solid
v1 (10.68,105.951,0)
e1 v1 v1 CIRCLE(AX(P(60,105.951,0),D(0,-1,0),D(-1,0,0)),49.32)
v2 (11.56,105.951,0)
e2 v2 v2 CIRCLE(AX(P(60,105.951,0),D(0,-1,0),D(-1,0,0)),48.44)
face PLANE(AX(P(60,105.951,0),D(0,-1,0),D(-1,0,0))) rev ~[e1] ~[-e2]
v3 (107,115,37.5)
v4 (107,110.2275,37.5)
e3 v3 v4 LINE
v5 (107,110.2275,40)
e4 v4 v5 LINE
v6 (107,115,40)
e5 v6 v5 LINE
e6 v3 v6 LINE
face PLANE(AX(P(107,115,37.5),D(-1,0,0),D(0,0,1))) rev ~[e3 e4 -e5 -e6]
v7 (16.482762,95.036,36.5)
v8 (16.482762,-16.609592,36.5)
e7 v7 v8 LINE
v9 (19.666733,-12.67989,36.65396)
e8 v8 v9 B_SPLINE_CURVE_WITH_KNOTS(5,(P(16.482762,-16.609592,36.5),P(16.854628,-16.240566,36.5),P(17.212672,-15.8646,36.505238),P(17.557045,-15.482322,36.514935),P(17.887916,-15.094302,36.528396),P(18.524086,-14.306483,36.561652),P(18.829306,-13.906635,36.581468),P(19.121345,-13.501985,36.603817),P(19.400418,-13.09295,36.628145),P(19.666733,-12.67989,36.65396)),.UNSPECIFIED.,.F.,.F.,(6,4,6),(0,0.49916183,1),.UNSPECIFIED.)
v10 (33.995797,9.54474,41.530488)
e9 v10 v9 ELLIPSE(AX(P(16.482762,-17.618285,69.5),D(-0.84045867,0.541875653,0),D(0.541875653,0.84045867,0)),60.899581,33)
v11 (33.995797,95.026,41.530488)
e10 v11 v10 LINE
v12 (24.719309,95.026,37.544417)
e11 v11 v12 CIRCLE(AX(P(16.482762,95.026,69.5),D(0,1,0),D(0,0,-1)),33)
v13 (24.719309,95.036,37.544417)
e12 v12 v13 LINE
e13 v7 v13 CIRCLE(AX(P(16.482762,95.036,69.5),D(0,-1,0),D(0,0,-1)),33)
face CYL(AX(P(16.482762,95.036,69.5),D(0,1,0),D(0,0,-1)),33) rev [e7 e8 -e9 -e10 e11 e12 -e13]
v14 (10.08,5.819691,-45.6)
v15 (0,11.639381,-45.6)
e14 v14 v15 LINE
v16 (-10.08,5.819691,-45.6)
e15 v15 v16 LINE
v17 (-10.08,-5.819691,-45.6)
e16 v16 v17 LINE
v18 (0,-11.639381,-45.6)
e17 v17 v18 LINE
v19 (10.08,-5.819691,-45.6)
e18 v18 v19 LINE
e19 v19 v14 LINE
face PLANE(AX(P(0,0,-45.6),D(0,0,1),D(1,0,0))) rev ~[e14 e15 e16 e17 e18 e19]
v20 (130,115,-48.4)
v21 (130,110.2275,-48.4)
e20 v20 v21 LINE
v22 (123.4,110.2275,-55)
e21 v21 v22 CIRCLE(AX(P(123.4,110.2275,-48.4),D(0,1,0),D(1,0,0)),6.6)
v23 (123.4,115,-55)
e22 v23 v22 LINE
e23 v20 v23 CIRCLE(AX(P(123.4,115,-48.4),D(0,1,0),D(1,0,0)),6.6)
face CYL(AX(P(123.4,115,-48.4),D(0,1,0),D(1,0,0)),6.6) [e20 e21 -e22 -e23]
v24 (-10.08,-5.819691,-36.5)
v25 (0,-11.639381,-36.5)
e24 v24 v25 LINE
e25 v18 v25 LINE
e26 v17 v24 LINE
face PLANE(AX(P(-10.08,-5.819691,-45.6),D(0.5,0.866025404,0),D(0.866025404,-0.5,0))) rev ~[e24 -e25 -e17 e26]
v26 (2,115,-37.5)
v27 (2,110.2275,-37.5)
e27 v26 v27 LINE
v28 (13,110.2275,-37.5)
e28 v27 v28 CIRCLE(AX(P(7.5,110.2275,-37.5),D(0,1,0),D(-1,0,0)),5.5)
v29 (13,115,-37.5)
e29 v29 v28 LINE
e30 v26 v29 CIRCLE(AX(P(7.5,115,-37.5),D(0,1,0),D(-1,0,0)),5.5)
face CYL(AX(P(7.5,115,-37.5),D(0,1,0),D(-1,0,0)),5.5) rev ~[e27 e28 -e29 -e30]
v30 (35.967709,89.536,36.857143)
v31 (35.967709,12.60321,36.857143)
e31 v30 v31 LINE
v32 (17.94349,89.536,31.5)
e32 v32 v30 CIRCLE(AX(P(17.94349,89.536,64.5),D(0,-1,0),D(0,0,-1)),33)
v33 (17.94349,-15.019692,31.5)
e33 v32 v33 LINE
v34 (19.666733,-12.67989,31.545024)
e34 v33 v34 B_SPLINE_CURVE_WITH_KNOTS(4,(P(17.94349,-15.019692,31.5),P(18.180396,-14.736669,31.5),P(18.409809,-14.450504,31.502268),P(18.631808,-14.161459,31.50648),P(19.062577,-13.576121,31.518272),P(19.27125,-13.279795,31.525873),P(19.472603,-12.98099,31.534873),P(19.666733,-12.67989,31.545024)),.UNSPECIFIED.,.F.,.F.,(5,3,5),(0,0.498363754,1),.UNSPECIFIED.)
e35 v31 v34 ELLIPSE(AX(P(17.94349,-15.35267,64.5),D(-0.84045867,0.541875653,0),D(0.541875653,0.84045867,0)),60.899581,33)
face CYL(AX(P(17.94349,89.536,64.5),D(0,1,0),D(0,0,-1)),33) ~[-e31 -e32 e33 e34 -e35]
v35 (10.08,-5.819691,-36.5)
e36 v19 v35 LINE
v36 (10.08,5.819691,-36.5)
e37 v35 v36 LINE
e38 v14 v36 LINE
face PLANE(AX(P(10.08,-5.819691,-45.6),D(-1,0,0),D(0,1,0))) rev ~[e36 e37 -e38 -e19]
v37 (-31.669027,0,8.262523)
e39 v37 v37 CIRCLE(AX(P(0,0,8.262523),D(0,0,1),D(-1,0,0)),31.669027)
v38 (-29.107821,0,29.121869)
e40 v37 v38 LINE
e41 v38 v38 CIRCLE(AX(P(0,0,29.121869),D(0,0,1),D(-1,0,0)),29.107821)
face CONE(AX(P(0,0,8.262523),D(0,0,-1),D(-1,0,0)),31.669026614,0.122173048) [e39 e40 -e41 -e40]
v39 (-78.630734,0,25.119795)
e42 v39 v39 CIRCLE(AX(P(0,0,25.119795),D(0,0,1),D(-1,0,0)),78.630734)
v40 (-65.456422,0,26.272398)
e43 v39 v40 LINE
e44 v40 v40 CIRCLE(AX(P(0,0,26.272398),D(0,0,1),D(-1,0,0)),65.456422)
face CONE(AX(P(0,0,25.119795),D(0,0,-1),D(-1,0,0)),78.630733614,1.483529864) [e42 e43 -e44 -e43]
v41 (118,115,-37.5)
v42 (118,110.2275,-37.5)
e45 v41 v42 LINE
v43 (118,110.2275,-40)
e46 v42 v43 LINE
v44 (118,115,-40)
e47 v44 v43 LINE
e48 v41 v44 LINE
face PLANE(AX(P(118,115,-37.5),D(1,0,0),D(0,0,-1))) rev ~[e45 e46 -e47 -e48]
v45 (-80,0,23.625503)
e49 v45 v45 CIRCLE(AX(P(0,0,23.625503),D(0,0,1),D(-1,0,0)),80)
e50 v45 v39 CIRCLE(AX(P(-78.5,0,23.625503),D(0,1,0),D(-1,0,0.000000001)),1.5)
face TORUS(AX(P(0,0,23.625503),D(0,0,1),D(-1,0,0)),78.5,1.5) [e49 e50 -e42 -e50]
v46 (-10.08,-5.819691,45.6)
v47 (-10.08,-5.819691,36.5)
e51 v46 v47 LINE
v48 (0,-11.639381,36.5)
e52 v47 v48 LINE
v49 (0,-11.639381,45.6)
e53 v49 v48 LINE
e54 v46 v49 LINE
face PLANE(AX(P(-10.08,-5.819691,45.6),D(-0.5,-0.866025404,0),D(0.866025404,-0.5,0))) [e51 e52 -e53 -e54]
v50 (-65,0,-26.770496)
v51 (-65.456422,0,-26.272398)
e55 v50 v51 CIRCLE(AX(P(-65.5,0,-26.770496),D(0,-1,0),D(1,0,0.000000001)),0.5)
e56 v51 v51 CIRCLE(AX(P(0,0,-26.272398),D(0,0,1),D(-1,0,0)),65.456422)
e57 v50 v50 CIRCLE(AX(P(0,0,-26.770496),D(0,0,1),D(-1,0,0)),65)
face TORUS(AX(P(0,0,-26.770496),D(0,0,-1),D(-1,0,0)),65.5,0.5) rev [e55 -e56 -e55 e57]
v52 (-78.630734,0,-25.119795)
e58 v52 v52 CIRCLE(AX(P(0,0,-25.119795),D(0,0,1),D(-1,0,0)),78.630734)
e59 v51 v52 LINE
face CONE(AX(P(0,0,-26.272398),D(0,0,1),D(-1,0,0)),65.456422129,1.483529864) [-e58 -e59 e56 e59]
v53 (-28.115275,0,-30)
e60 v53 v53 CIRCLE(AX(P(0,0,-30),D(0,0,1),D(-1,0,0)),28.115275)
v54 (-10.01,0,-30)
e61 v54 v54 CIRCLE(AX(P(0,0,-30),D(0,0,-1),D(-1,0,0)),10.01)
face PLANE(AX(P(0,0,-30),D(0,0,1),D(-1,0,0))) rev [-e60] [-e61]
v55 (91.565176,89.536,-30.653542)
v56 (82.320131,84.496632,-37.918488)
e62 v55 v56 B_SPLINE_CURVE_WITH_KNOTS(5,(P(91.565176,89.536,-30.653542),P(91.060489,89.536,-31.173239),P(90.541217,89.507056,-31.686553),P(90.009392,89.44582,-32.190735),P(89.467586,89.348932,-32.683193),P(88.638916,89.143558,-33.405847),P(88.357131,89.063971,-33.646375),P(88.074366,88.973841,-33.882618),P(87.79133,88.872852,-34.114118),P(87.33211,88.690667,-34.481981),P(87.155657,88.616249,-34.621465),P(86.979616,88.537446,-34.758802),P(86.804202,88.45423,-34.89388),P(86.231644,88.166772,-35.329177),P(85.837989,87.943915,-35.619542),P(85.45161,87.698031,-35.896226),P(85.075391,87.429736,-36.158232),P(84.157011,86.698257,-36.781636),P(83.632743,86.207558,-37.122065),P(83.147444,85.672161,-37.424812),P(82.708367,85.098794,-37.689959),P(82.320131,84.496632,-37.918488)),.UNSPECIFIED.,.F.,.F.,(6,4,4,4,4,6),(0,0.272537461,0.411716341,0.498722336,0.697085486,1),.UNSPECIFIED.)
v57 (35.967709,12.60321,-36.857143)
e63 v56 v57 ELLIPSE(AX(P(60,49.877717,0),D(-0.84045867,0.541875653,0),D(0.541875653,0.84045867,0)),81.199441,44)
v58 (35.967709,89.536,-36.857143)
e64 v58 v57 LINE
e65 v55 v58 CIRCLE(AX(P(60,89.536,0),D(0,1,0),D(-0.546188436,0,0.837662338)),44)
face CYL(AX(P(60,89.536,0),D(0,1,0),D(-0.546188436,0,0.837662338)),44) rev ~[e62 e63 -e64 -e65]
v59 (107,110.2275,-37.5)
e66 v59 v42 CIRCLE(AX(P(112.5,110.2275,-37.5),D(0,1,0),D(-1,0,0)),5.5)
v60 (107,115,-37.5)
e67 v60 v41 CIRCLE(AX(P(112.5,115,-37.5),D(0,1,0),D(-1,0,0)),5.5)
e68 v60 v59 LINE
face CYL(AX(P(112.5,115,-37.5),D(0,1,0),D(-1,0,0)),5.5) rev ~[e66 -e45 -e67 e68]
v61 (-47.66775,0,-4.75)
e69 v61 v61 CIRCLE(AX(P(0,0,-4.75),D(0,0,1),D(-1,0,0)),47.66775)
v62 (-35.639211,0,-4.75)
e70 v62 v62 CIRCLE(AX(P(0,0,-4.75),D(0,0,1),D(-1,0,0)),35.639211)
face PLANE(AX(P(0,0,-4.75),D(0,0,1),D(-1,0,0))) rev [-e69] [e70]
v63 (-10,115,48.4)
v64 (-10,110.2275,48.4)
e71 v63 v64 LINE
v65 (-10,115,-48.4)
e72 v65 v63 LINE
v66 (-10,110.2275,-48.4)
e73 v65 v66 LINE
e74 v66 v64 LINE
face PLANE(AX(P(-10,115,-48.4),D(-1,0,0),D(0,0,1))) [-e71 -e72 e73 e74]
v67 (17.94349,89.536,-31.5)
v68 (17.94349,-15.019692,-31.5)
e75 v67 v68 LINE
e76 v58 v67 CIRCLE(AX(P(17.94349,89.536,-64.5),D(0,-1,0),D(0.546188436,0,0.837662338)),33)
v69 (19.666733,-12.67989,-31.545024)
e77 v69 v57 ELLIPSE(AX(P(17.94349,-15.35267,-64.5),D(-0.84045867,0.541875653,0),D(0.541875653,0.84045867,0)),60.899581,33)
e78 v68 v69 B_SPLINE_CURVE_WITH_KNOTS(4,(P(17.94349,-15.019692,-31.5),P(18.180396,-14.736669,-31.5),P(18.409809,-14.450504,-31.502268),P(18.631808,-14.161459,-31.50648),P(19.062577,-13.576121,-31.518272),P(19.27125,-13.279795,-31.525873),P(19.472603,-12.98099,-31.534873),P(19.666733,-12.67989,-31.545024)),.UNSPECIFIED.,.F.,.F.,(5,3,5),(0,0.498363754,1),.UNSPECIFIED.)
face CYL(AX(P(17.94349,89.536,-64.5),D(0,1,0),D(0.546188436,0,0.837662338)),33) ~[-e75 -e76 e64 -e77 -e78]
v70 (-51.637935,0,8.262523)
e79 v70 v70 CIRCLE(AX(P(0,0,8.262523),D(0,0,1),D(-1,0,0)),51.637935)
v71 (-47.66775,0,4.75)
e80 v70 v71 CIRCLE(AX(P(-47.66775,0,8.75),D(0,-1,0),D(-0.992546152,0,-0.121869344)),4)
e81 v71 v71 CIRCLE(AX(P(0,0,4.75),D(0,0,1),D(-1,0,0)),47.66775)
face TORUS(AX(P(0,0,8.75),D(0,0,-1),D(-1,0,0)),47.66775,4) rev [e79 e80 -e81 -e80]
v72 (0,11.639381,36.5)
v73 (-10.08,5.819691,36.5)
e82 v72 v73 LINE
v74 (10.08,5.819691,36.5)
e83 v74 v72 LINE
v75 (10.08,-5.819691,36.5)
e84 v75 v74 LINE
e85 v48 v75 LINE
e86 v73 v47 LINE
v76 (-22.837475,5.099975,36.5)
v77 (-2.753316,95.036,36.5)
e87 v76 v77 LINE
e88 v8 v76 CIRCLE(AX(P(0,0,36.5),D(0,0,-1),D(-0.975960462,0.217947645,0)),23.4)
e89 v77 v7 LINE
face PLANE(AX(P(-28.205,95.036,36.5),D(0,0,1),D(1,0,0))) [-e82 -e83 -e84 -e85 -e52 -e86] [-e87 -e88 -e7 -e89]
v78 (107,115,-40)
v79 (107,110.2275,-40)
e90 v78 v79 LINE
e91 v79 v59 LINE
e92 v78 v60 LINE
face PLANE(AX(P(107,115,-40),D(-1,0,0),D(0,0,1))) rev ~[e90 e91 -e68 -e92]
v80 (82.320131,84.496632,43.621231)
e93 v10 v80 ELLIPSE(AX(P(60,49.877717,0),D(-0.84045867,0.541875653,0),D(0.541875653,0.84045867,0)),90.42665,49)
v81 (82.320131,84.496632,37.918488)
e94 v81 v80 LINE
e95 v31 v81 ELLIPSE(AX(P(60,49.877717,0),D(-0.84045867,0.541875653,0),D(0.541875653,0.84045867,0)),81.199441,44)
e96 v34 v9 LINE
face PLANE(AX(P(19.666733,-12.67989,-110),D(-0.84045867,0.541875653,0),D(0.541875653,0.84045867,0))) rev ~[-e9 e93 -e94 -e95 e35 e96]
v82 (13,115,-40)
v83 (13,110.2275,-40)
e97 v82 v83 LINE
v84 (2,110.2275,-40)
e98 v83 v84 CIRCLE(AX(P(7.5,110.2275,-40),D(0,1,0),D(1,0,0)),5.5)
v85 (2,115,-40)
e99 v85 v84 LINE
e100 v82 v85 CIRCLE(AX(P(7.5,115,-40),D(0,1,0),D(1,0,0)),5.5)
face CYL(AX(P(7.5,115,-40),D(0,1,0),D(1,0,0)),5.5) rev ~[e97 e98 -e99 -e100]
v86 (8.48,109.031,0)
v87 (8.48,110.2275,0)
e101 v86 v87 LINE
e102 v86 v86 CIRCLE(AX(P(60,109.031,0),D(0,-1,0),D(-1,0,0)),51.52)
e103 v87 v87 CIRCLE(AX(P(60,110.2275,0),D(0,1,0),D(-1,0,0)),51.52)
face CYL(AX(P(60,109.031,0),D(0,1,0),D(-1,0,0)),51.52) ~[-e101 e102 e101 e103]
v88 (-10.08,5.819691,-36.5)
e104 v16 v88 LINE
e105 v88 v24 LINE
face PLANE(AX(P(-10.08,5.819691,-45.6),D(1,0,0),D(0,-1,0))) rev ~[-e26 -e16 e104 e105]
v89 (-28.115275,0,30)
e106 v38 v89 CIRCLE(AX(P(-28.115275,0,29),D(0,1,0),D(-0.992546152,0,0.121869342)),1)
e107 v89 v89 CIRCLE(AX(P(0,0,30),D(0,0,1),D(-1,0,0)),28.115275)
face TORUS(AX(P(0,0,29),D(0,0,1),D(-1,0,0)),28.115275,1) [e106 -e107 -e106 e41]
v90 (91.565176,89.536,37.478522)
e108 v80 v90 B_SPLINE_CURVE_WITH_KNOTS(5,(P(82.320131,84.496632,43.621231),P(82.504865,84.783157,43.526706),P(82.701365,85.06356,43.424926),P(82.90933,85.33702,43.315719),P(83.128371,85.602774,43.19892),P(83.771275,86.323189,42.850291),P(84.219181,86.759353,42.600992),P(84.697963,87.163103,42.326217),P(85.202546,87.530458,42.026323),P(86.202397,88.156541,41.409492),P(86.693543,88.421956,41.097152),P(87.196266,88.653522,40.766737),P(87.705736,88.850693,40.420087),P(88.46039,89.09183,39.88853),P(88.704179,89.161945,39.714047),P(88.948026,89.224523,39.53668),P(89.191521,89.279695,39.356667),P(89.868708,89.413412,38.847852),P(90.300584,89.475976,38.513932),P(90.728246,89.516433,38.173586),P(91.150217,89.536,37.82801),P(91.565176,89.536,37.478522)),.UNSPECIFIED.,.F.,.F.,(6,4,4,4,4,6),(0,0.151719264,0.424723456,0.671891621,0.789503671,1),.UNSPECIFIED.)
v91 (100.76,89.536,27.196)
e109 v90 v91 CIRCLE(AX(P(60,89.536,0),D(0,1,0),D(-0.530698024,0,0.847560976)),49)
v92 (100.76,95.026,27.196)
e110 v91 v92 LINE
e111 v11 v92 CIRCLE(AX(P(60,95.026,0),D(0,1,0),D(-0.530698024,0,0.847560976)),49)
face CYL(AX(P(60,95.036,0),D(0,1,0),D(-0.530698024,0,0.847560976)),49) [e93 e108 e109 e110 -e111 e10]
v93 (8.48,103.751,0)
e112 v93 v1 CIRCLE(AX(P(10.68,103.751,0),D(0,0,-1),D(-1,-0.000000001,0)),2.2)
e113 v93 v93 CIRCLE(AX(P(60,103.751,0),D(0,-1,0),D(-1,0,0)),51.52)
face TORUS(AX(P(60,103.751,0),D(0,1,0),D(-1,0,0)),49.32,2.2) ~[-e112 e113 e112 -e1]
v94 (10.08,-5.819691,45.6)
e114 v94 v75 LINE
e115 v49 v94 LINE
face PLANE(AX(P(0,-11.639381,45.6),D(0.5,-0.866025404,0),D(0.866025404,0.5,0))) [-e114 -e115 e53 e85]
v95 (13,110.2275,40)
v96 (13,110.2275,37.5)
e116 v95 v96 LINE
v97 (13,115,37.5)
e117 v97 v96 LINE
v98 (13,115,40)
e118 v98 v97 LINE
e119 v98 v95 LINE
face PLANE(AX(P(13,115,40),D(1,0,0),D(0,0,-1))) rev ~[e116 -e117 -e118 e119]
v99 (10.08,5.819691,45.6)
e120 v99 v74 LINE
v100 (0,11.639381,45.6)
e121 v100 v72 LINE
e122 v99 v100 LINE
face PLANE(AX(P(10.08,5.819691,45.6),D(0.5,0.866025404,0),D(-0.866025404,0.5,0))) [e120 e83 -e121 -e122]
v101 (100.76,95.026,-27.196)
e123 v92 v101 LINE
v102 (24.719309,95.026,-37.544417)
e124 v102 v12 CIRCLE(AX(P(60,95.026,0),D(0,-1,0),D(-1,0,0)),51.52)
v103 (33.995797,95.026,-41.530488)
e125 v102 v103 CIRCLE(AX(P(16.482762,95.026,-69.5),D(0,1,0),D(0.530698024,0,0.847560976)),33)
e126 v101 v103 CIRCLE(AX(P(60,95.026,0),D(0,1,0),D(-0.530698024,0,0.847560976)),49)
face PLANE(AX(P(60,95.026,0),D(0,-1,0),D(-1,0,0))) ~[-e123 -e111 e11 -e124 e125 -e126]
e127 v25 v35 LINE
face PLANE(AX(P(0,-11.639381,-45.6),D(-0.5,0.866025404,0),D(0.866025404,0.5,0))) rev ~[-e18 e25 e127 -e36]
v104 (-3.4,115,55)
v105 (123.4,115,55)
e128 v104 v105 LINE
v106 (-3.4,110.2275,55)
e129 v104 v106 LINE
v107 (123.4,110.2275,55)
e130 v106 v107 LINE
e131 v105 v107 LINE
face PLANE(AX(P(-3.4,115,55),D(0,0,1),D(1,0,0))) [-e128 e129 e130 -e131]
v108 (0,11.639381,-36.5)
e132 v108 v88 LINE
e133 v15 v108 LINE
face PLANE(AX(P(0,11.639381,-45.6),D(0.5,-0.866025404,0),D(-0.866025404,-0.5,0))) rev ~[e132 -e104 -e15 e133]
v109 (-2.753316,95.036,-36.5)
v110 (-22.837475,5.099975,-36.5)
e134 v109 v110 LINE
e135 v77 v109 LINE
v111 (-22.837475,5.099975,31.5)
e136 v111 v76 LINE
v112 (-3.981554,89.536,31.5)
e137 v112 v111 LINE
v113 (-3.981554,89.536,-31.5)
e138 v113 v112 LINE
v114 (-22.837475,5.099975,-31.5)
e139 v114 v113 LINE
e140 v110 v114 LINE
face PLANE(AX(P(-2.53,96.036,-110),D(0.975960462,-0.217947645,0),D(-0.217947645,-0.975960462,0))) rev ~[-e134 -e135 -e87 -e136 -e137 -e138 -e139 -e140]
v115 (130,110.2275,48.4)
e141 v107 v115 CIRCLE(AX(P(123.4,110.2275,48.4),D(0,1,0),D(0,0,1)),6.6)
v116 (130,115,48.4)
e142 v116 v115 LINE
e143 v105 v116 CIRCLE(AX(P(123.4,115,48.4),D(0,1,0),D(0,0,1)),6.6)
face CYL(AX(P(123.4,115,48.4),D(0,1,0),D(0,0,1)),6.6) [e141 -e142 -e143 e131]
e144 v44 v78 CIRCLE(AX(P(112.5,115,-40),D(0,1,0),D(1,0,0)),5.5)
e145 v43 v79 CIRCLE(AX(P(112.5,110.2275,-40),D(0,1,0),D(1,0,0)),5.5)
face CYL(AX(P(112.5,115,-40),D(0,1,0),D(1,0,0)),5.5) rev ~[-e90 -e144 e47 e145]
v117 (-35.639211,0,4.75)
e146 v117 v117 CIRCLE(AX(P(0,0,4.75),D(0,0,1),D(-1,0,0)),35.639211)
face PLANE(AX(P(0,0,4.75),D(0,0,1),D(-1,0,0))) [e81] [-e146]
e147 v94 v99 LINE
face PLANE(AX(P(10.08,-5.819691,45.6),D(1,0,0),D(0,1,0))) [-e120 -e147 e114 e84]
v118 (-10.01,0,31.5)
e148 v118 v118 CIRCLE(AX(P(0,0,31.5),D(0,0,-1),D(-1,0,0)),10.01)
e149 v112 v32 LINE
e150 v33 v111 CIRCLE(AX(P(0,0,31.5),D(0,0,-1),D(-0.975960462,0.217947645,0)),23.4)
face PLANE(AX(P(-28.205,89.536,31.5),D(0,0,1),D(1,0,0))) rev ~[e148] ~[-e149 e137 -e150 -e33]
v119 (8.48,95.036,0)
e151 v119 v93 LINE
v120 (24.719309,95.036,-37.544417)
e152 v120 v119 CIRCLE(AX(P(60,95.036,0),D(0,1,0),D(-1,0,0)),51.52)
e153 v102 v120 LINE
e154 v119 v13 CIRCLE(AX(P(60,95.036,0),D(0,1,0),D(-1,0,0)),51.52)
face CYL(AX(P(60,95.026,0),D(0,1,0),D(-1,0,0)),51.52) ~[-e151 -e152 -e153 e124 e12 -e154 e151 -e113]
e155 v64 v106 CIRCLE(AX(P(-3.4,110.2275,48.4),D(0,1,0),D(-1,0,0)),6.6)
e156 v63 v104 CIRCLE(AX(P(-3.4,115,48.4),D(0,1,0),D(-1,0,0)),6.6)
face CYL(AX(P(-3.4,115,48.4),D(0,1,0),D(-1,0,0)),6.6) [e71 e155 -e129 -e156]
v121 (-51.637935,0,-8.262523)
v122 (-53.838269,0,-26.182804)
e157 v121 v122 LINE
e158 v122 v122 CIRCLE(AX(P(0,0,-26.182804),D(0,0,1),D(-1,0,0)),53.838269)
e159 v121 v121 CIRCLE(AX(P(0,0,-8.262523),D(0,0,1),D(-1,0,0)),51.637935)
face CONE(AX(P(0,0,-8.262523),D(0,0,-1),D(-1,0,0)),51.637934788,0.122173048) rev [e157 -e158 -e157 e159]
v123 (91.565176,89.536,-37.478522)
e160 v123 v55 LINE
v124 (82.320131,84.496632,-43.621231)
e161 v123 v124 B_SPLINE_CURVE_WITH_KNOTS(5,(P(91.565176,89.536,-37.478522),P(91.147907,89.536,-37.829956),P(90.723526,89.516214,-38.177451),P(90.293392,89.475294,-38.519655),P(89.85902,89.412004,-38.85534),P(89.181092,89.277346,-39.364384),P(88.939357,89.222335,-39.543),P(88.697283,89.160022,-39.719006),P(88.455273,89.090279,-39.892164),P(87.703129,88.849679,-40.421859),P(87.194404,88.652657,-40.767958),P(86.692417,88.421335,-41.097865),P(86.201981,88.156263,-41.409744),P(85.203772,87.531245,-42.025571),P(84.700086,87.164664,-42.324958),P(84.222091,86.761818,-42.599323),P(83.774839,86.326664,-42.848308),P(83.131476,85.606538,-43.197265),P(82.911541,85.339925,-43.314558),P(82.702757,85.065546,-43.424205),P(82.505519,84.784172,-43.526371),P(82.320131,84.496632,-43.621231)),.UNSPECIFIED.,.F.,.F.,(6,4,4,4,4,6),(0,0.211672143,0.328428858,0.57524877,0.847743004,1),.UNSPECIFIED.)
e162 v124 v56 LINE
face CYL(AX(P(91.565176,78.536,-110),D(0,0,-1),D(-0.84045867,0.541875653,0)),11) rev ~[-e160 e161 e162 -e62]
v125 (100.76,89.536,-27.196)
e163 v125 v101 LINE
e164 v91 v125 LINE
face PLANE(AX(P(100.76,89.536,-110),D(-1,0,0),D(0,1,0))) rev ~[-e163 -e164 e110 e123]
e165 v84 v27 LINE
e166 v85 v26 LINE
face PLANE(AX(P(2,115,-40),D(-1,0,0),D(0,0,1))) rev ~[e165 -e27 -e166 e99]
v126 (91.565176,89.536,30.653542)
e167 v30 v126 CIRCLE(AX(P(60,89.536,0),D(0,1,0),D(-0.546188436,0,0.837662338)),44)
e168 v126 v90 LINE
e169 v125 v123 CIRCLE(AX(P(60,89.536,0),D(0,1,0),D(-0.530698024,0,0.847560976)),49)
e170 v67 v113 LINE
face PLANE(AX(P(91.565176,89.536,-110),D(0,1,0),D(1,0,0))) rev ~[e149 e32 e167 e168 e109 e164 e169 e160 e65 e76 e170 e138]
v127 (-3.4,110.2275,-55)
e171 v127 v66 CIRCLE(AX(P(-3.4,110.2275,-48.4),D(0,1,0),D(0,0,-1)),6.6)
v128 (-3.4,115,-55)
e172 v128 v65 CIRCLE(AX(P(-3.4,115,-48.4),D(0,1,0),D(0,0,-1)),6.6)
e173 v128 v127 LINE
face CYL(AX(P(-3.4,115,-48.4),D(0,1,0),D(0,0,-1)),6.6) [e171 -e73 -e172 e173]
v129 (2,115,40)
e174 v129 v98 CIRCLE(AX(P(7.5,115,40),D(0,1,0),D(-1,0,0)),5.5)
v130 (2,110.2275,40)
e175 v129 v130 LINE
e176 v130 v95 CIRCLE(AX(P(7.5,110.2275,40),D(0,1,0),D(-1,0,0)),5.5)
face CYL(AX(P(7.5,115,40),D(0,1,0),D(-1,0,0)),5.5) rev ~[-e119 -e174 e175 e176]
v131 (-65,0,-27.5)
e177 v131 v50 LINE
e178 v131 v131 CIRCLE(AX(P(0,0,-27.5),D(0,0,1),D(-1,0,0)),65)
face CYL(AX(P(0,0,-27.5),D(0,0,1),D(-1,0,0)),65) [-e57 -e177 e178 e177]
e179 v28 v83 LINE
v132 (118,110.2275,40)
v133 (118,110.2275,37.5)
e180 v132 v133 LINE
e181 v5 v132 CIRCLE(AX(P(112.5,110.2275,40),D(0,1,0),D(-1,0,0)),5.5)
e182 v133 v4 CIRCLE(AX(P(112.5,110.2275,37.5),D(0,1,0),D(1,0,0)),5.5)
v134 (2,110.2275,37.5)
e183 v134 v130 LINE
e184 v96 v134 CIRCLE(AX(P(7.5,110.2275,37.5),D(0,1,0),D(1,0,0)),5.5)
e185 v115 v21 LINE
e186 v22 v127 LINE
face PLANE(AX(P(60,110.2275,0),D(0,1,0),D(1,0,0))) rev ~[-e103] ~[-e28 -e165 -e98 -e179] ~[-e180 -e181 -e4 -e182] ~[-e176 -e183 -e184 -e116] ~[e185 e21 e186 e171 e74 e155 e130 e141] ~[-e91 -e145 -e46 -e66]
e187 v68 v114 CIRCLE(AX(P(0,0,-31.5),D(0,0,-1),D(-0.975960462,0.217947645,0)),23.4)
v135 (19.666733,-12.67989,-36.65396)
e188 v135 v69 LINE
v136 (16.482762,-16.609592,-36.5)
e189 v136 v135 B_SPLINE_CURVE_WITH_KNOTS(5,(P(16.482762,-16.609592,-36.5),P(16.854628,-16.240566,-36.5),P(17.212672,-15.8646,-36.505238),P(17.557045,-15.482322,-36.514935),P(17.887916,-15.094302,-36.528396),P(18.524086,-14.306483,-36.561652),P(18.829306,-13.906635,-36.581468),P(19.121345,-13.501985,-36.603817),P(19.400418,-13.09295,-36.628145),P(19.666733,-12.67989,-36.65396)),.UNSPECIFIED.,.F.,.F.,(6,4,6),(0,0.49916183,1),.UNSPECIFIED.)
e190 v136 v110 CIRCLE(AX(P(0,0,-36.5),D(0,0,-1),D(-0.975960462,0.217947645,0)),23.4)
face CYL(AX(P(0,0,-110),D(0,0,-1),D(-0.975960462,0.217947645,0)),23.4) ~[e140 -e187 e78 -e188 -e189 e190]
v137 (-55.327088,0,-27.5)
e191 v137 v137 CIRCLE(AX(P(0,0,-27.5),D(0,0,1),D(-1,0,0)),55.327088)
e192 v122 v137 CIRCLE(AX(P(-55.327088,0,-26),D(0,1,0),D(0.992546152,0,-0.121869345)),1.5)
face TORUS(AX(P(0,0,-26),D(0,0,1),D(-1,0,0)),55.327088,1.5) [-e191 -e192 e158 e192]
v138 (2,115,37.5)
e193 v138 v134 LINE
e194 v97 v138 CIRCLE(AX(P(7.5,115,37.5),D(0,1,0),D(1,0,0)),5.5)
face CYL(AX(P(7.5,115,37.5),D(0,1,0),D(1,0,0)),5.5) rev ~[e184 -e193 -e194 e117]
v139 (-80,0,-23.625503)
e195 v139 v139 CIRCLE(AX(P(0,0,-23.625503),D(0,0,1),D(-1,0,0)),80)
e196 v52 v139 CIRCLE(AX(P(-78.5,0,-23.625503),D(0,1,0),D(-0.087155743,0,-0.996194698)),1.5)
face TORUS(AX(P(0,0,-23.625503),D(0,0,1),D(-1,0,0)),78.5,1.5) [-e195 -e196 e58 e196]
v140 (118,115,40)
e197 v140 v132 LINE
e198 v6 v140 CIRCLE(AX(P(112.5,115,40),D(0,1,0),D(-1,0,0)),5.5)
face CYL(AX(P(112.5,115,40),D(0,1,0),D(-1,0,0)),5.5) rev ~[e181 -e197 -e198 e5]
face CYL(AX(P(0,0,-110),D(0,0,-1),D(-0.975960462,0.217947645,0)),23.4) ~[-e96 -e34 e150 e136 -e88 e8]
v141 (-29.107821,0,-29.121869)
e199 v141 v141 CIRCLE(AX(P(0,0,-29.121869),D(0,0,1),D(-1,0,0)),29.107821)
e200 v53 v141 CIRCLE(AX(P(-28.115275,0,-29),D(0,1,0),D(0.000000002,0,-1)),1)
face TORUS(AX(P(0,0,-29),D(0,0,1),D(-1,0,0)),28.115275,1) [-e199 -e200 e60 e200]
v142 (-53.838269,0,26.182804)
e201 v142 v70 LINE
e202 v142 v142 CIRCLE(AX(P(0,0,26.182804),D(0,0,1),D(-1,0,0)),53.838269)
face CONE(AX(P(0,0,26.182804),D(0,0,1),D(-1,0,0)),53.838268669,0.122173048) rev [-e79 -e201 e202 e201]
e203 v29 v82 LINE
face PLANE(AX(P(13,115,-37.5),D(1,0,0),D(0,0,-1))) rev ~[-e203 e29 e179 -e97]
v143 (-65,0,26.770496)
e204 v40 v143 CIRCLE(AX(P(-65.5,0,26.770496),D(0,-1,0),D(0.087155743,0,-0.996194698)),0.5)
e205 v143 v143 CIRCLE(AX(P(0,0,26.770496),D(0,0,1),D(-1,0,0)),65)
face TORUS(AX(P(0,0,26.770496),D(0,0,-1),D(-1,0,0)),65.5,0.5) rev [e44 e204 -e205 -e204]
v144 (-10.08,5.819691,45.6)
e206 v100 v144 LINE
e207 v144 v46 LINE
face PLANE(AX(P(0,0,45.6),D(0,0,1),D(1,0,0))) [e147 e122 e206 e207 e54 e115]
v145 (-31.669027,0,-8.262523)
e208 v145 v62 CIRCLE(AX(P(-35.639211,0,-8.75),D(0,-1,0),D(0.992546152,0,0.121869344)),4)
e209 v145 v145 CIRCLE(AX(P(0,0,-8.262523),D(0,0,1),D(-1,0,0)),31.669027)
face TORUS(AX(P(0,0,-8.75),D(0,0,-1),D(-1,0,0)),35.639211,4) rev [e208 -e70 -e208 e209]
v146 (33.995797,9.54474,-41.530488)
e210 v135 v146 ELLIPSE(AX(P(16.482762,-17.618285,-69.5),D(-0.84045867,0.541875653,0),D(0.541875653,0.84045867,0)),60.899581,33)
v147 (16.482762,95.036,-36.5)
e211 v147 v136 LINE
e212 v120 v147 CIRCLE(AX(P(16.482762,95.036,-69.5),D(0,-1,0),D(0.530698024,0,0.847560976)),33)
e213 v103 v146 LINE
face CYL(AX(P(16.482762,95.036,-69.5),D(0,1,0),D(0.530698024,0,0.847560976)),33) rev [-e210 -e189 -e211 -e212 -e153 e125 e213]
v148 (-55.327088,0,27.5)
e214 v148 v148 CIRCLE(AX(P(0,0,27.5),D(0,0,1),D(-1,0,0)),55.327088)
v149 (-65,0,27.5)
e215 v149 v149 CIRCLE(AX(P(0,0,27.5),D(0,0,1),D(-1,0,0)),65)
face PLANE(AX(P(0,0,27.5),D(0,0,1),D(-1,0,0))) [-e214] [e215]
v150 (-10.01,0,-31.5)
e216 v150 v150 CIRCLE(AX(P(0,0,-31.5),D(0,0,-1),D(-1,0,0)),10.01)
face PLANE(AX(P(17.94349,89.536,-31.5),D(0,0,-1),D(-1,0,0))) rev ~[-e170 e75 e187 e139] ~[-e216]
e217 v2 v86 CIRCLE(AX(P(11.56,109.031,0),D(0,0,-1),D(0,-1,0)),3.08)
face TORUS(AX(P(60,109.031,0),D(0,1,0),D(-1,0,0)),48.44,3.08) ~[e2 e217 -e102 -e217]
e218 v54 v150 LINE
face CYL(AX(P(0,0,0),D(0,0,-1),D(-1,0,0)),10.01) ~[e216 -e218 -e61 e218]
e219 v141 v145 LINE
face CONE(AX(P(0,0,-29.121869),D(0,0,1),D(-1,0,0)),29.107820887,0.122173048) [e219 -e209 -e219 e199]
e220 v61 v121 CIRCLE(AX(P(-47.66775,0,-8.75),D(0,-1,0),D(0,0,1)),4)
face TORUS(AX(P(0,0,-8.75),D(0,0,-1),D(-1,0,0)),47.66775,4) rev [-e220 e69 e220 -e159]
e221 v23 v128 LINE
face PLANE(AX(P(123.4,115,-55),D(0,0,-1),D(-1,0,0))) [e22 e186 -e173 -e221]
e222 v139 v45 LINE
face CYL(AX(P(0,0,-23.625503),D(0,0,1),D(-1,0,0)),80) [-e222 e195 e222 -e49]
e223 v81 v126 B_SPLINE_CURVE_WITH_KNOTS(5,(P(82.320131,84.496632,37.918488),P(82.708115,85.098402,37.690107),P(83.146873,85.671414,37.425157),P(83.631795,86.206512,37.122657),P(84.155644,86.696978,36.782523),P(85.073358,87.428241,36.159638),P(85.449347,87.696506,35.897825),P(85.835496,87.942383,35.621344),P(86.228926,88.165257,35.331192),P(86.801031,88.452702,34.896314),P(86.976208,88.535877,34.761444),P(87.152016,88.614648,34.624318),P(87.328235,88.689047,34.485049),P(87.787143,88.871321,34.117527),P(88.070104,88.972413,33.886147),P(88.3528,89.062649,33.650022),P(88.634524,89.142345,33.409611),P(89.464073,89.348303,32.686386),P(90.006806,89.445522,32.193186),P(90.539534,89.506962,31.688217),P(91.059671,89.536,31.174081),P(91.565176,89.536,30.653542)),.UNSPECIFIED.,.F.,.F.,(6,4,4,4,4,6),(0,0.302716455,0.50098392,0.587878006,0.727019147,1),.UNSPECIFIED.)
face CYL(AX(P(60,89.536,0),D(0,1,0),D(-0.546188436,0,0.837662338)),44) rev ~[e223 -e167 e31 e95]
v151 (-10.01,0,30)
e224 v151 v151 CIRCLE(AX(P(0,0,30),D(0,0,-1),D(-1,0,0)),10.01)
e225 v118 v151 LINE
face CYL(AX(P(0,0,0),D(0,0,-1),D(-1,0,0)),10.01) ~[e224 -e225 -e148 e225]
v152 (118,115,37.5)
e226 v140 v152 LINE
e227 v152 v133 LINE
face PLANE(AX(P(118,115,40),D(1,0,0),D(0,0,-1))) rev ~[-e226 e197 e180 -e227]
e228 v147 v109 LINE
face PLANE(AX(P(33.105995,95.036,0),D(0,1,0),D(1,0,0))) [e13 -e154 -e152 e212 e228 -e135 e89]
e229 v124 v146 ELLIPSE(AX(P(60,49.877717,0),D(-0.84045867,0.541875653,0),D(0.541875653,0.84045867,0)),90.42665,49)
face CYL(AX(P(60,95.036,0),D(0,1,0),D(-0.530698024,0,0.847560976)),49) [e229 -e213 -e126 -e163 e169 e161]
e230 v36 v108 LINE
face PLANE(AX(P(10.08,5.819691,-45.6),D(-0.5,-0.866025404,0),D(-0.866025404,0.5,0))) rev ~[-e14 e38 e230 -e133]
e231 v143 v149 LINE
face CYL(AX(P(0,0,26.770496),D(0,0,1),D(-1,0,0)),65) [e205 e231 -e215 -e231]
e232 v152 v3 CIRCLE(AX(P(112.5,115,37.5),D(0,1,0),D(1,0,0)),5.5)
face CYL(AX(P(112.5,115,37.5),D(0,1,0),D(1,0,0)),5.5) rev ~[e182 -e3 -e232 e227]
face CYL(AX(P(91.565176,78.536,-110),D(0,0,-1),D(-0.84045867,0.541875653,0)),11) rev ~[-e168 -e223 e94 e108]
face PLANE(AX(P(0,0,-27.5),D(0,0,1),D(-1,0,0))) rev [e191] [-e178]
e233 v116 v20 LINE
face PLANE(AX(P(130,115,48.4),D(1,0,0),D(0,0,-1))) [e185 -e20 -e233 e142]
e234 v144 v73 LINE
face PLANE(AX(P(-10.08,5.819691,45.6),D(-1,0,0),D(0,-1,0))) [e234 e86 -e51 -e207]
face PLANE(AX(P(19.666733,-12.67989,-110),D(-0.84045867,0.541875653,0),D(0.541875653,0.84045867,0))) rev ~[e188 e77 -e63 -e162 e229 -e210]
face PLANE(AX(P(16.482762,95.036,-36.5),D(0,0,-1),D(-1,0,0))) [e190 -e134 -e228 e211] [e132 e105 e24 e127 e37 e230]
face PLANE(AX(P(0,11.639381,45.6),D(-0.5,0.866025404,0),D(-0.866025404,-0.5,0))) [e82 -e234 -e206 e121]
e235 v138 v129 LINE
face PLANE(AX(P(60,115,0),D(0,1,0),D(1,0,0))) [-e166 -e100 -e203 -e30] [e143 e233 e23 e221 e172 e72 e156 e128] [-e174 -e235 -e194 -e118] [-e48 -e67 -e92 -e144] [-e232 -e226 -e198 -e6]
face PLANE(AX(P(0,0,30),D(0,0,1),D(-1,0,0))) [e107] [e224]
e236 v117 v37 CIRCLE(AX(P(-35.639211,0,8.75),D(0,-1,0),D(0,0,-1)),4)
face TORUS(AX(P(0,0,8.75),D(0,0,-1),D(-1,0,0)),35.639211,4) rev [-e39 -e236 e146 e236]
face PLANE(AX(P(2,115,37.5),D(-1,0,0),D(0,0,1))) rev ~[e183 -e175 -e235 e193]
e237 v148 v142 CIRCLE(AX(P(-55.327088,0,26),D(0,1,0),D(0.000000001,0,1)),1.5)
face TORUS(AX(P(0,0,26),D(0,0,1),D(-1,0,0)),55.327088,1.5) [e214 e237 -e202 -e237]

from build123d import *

# Parameters (mm, degrees)
BOSS_EXTRUDE1_DEPTH     = 119.805
CUT_EXTRUDE1_DEPTH      = 110
CUT_EXTRUDE1_DEPTH_BACK = 110
SKETCH2_W               = 215
SKETCH2_H               = 195
CUT_EXTRUDE2_DEPTH      = 195
BOSS_EXTRUDE2_DEPTH     = 4.7725
SKETCH6_W               = 63.05
SKETCH6_H               = 10.01
BOSS_EXTRUDE3_DEPTH     = 9.2
BOSS_EXTRUDE4_DEPTH     = 9.2


with BuildPart() as part:
    # Sketch1 → Boss-Extrude1 (new body)
    with BuildSketch(Plane(origin=(0, 95.036, 0), x_dir=(1, 0, 0), z_dir=(0, 1, 0))):
        with BuildLine():
            Line((-28.205, 36.5), (-28.205, -36.5))
            Line((-28.205, -36.5), (16.482762036, -36.5))
            ThreePointArc((16.482762036, -36.5), (25.593362937, -37.782545007), (33.995796826, -41.530487805))
            ThreePointArc((33.995796826, -41.530487805), (109, 0), (33.995796826, 41.530487805))
            ThreePointArc((33.995796826, 41.530487805), (25.593362937, 37.782545007), (16.482762036, 36.5))
            Line((16.482762036, 36.5), (-28.205, 36.5))
        make_face()
    extrude(amount=-BOSS_EXTRUDE1_DEPTH)

    # Sketch2 → Cut-Extrude1 (cut, two sides: drawn at the far end of the back side and taken through both)
    with BuildSketch(Plane.XY.offset(-CUT_EXTRUDE1_DEPTH_BACK)):
        with Locations((52.5, 32.5)):
            Rectangle(SKETCH2_W, SKETCH2_H)
        with BuildLine():
            Line((19.666732883, -12.679890287), (82.320130921, 84.496632186))
            ThreePointArc((82.320130921, 84.496632186), (86.300527875, 88.194337177), (91.565176294, 89.536))
            Line((91.565176294, 89.536), (100.76, 89.536))
            Line((100.76, 89.536), (100.76, 96.036))
            Line((100.76, 96.036), (-2.53, 96.036))
            Line((-2.53, 96.036), (-22.837474819, 5.099974892))
            ThreePointArc((-22.837474819, 5.099974892), (-9.030188401, -21.587396727), (19.666732883, -12.679890287))
        make_face(mode=Mode.SUBTRACT)
    extrude(amount=CUT_EXTRUDE1_DEPTH + CUT_EXTRUDE1_DEPTH_BACK, mode=Mode.SUBTRACT)

    # Sketch4 → Revolve1 (revolve)
    with BuildSketch(Plane.XY):
        with BuildLine():
            Line((60, 95.026), (8.48, 95.026))
            Line((8.48, 95.026), (8.48, 103.751))
            ThreePointArc((8.48, 103.751), (9.124365081, 105.306634919), (10.68, 105.951))
            Line((10.68, 105.951), (11.56, 105.951))
            ThreePointArc((11.56, 105.951), (9.382111114, 106.853111114), (8.48, 109.031))
            Line((8.48, 109.031), (8.48, 110.7235))
            Line((8.48, 110.7235), (60, 110.7235))
            Line((60, 110.7235), (60, 95.026))
        make_face()
    revolve(axis=Axis((60, 110.7235, 0), (0, -1, 0)))

    # Sketch3 → Cut-Extrude2 (cut)
    with BuildSketch(Plane(origin=(0, 89.536, 0), x_dir=(1, 0, 0), z_dir=(0, 1, 0))):
        with BuildLine():
            Line((-28.205, 31.5), (-28.205, -31.5))
            Line((-28.205, -31.5), (17.943490397, -31.5))
            ThreePointArc((17.943490397, -31.5), (27.345237955, -32.867625084), (35.967708798, -36.857142857))
            ThreePointArc((35.967708798, -36.857142857), (104, 0), (35.967708798, 36.857142857))
            ThreePointArc((35.967708798, 36.857142857), (27.345237955, 32.867625084), (17.943490397, 31.5))
            Line((17.943490397, 31.5), (-28.205, 31.5))
        make_face()
    extrude(amount=-CUT_EXTRUDE2_DEPTH, mode=Mode.SUBTRACT)

    # Sketch5 → Boss-Extrude2 (add)
    with BuildSketch(Plane(origin=(0, 115, 0), x_dir=(1, 0, 0), z_dir=(0, 1, 0))):
        with BuildLine():
            Line((-10, 48.4), (-10, -48.4))
            ThreePointArc((-10, -48.4), (-8.066904756, -53.066904756), (-3.4, -55))
            Line((-3.4, -55), (123.4, -55))
            ThreePointArc((123.4, -55), (128.066904756, -53.066904756), (130, -48.4))
            Line((130, -48.4), (130, 48.4))
            ThreePointArc((130, 48.4), (128.066904756, 53.066904756), (123.4, 55))
            Line((123.4, 55), (-3.4, 55))
            ThreePointArc((-3.4, 55), (-8.066904756, 53.066904756), (-10, 48.4))
        make_face()
        with BuildLine():
            Line((118, 37.5), (118, 40))
            ThreePointArc((118, 40), (112.5, 45.5), (107, 40))
            Line((107, 40), (107, 37.5))
            ThreePointArc((107, 37.5), (112.5, 32), (118, 37.5))
        make_face(mode=Mode.SUBTRACT)
        with BuildLine():
            Line((107, -37.5), (107, -40))
            ThreePointArc((107, -40), (112.5, -45.5), (118, -40))
            Line((118, -40), (118, -37.5))
            ThreePointArc((118, -37.5), (112.5, -32), (107, -37.5))
        make_face(mode=Mode.SUBTRACT)
        with BuildLine():
            Line((13, 37.5), (13, 40))
            ThreePointArc((13, 40), (7.5, 45.5), (2, 40))
            Line((2, 40), (2, 37.5))
            ThreePointArc((2, 37.5), (7.5, 32), (13, 37.5))
        make_face(mode=Mode.SUBTRACT)
        with BuildLine():
            Line((2, -37.5), (2, -40))
            ThreePointArc((2, -40), (7.5, -45.5), (13, -40))
            Line((13, -40), (13, -37.5))
            ThreePointArc((13, -37.5), (7.5, -32), (2, -37.5))
        make_face(mode=Mode.SUBTRACT)
    extrude(amount=-BOSS_EXTRUDE2_DEPTH)

    # Sketch6 → Revolve2 (revolve)
    with BuildSketch(Plane(origin=(0, 0, 0), x_dir=(0, 0, -1), z_dir=(1, 0, 0)), mode=Mode.PRIVATE) as revolve2_sk:
        with Locations((0, 5.005)):
            Rectangle(SKETCH6_W, SKETCH6_H)
    revolve(revolve2_sk.sketch.rotate(Axis((0, 0, -31.525), (0, 0, 1)), 90), axis=Axis((0, 0, -31.525), (0, 0, 1)))

    # Sketch7 → Boss-Extrude3 (add)
    with BuildSketch(Plane.XY.offset(45.6)):
        Polygon((-10.08, -5.819690713), (0, -11.639381427), (10.08, -5.819690713), (10.08, 5.819690713), (0, 11.639381427), (-10.08, 5.819690713), align=None)
    extrude(amount=-BOSS_EXTRUDE3_DEPTH)

    # Sketch8 → Boss-Extrude4 (add)
    with BuildSketch(Plane.XY.offset(-45.6)):
        Polygon((-10.08, -5.819690713), (0, -11.639381427), (10.08, -5.819690713), (10.08, 5.819690713), (0, 11.639381427), (-10.08, 5.819690713), align=None)
    extrude(amount=BOSS_EXTRUDE4_DEPTH)

    # Sketch9 → Revolve3 (revolve)
    with BuildSketch(Plane(origin=(0, 0, 0), x_dir=(0, 0, -1), z_dir=(1, 0, 0)), mode=Mode.PRIVATE) as revolve3_sk:
        with BuildLine():
            Line((-30, 28.115274735), (-30, 10))
            Line((-30, 10), (30, 10))
            Line((30, 10), (30, 28.115274735))
            ThreePointArc((30, 28.115274735), (29.748955721, 28.777894784), (29.121869343, 29.107820887))
            Line((29.121869343, 29.107820887), (8.262522626, 31.669026614))
            ThreePointArc((8.262522626, 31.669026614), (5.754177117, 32.988731028), (4.75, 35.639211221))
            Line((4.75, 35.639211221), (4.75, 47.667750181))
            ThreePointArc((4.75, 47.667750181), (5.754177117, 50.318230374), (8.262522626, 51.637934788))
            Line((8.262522626, 51.637934788), (26.182804015, 53.838268669))
            ThreePointArc((26.182804015, 53.838268669), (27.123433581, 54.333157825), (27.5, 55.327087897))
            Line((27.5, 55.327087897), (27.5, 65))
            Line((27.5, 65), (26.77049554, 65))
            ThreePointArc((26.77049554, 65), (26.432700436, 65.131361332), (26.272398191, 65.456422129))
            Line((26.272398191, 65.456422129), (25.119795286, 78.630733614))
            ThreePointArc((25.119795286, 78.630733614), (24.63888855, 79.605916005), (23.625503239, 80))
            Line((23.625503239, 80), (-23.625503239, 80))
            ThreePointArc((-23.625503239, 80), (-24.63888855, 79.605916005), (-25.119795286, 78.630733614))
            Line((-25.119795286, 78.630733614), (-26.272398191, 65.456422129))
            ThreePointArc((-26.272398191, 65.456422129), (-26.432700436, 65.131361332), (-26.77049554, 65))
            Line((-26.77049554, 65), (-27.5, 65))
            Line((-27.5, 65), (-27.5, 55.327087897))
            ThreePointArc((-27.5, 55.327087897), (-27.123433581, 54.333157825), (-26.182804015, 53.838268669))
            Line((-26.182804015, 53.838268669), (-8.262522626, 51.637934788))
            ThreePointArc((-8.262522626, 51.637934788), (-5.754177117, 50.318230374), (-4.75, 47.667750181))
            Line((-4.75, 47.667750181), (-4.75, 35.639211221))
            ThreePointArc((-4.75, 35.639211221), (-5.754177117, 32.988731028), (-8.262522626, 31.669026614))
            Line((-8.262522626, 31.669026614), (-29.121869343, 29.107820887))
            ThreePointArc((-29.121869343, 29.107820887), (-29.748955721, 28.777894784), (-30, 28.115274735))
        make_face()
    revolve(revolve3_sk.sketch.rotate(Axis((0, 0, -30), (0, 0, 1)), 90), axis=Axis((0, 0, -30), (0, 0, 1)))


solid = part.part
